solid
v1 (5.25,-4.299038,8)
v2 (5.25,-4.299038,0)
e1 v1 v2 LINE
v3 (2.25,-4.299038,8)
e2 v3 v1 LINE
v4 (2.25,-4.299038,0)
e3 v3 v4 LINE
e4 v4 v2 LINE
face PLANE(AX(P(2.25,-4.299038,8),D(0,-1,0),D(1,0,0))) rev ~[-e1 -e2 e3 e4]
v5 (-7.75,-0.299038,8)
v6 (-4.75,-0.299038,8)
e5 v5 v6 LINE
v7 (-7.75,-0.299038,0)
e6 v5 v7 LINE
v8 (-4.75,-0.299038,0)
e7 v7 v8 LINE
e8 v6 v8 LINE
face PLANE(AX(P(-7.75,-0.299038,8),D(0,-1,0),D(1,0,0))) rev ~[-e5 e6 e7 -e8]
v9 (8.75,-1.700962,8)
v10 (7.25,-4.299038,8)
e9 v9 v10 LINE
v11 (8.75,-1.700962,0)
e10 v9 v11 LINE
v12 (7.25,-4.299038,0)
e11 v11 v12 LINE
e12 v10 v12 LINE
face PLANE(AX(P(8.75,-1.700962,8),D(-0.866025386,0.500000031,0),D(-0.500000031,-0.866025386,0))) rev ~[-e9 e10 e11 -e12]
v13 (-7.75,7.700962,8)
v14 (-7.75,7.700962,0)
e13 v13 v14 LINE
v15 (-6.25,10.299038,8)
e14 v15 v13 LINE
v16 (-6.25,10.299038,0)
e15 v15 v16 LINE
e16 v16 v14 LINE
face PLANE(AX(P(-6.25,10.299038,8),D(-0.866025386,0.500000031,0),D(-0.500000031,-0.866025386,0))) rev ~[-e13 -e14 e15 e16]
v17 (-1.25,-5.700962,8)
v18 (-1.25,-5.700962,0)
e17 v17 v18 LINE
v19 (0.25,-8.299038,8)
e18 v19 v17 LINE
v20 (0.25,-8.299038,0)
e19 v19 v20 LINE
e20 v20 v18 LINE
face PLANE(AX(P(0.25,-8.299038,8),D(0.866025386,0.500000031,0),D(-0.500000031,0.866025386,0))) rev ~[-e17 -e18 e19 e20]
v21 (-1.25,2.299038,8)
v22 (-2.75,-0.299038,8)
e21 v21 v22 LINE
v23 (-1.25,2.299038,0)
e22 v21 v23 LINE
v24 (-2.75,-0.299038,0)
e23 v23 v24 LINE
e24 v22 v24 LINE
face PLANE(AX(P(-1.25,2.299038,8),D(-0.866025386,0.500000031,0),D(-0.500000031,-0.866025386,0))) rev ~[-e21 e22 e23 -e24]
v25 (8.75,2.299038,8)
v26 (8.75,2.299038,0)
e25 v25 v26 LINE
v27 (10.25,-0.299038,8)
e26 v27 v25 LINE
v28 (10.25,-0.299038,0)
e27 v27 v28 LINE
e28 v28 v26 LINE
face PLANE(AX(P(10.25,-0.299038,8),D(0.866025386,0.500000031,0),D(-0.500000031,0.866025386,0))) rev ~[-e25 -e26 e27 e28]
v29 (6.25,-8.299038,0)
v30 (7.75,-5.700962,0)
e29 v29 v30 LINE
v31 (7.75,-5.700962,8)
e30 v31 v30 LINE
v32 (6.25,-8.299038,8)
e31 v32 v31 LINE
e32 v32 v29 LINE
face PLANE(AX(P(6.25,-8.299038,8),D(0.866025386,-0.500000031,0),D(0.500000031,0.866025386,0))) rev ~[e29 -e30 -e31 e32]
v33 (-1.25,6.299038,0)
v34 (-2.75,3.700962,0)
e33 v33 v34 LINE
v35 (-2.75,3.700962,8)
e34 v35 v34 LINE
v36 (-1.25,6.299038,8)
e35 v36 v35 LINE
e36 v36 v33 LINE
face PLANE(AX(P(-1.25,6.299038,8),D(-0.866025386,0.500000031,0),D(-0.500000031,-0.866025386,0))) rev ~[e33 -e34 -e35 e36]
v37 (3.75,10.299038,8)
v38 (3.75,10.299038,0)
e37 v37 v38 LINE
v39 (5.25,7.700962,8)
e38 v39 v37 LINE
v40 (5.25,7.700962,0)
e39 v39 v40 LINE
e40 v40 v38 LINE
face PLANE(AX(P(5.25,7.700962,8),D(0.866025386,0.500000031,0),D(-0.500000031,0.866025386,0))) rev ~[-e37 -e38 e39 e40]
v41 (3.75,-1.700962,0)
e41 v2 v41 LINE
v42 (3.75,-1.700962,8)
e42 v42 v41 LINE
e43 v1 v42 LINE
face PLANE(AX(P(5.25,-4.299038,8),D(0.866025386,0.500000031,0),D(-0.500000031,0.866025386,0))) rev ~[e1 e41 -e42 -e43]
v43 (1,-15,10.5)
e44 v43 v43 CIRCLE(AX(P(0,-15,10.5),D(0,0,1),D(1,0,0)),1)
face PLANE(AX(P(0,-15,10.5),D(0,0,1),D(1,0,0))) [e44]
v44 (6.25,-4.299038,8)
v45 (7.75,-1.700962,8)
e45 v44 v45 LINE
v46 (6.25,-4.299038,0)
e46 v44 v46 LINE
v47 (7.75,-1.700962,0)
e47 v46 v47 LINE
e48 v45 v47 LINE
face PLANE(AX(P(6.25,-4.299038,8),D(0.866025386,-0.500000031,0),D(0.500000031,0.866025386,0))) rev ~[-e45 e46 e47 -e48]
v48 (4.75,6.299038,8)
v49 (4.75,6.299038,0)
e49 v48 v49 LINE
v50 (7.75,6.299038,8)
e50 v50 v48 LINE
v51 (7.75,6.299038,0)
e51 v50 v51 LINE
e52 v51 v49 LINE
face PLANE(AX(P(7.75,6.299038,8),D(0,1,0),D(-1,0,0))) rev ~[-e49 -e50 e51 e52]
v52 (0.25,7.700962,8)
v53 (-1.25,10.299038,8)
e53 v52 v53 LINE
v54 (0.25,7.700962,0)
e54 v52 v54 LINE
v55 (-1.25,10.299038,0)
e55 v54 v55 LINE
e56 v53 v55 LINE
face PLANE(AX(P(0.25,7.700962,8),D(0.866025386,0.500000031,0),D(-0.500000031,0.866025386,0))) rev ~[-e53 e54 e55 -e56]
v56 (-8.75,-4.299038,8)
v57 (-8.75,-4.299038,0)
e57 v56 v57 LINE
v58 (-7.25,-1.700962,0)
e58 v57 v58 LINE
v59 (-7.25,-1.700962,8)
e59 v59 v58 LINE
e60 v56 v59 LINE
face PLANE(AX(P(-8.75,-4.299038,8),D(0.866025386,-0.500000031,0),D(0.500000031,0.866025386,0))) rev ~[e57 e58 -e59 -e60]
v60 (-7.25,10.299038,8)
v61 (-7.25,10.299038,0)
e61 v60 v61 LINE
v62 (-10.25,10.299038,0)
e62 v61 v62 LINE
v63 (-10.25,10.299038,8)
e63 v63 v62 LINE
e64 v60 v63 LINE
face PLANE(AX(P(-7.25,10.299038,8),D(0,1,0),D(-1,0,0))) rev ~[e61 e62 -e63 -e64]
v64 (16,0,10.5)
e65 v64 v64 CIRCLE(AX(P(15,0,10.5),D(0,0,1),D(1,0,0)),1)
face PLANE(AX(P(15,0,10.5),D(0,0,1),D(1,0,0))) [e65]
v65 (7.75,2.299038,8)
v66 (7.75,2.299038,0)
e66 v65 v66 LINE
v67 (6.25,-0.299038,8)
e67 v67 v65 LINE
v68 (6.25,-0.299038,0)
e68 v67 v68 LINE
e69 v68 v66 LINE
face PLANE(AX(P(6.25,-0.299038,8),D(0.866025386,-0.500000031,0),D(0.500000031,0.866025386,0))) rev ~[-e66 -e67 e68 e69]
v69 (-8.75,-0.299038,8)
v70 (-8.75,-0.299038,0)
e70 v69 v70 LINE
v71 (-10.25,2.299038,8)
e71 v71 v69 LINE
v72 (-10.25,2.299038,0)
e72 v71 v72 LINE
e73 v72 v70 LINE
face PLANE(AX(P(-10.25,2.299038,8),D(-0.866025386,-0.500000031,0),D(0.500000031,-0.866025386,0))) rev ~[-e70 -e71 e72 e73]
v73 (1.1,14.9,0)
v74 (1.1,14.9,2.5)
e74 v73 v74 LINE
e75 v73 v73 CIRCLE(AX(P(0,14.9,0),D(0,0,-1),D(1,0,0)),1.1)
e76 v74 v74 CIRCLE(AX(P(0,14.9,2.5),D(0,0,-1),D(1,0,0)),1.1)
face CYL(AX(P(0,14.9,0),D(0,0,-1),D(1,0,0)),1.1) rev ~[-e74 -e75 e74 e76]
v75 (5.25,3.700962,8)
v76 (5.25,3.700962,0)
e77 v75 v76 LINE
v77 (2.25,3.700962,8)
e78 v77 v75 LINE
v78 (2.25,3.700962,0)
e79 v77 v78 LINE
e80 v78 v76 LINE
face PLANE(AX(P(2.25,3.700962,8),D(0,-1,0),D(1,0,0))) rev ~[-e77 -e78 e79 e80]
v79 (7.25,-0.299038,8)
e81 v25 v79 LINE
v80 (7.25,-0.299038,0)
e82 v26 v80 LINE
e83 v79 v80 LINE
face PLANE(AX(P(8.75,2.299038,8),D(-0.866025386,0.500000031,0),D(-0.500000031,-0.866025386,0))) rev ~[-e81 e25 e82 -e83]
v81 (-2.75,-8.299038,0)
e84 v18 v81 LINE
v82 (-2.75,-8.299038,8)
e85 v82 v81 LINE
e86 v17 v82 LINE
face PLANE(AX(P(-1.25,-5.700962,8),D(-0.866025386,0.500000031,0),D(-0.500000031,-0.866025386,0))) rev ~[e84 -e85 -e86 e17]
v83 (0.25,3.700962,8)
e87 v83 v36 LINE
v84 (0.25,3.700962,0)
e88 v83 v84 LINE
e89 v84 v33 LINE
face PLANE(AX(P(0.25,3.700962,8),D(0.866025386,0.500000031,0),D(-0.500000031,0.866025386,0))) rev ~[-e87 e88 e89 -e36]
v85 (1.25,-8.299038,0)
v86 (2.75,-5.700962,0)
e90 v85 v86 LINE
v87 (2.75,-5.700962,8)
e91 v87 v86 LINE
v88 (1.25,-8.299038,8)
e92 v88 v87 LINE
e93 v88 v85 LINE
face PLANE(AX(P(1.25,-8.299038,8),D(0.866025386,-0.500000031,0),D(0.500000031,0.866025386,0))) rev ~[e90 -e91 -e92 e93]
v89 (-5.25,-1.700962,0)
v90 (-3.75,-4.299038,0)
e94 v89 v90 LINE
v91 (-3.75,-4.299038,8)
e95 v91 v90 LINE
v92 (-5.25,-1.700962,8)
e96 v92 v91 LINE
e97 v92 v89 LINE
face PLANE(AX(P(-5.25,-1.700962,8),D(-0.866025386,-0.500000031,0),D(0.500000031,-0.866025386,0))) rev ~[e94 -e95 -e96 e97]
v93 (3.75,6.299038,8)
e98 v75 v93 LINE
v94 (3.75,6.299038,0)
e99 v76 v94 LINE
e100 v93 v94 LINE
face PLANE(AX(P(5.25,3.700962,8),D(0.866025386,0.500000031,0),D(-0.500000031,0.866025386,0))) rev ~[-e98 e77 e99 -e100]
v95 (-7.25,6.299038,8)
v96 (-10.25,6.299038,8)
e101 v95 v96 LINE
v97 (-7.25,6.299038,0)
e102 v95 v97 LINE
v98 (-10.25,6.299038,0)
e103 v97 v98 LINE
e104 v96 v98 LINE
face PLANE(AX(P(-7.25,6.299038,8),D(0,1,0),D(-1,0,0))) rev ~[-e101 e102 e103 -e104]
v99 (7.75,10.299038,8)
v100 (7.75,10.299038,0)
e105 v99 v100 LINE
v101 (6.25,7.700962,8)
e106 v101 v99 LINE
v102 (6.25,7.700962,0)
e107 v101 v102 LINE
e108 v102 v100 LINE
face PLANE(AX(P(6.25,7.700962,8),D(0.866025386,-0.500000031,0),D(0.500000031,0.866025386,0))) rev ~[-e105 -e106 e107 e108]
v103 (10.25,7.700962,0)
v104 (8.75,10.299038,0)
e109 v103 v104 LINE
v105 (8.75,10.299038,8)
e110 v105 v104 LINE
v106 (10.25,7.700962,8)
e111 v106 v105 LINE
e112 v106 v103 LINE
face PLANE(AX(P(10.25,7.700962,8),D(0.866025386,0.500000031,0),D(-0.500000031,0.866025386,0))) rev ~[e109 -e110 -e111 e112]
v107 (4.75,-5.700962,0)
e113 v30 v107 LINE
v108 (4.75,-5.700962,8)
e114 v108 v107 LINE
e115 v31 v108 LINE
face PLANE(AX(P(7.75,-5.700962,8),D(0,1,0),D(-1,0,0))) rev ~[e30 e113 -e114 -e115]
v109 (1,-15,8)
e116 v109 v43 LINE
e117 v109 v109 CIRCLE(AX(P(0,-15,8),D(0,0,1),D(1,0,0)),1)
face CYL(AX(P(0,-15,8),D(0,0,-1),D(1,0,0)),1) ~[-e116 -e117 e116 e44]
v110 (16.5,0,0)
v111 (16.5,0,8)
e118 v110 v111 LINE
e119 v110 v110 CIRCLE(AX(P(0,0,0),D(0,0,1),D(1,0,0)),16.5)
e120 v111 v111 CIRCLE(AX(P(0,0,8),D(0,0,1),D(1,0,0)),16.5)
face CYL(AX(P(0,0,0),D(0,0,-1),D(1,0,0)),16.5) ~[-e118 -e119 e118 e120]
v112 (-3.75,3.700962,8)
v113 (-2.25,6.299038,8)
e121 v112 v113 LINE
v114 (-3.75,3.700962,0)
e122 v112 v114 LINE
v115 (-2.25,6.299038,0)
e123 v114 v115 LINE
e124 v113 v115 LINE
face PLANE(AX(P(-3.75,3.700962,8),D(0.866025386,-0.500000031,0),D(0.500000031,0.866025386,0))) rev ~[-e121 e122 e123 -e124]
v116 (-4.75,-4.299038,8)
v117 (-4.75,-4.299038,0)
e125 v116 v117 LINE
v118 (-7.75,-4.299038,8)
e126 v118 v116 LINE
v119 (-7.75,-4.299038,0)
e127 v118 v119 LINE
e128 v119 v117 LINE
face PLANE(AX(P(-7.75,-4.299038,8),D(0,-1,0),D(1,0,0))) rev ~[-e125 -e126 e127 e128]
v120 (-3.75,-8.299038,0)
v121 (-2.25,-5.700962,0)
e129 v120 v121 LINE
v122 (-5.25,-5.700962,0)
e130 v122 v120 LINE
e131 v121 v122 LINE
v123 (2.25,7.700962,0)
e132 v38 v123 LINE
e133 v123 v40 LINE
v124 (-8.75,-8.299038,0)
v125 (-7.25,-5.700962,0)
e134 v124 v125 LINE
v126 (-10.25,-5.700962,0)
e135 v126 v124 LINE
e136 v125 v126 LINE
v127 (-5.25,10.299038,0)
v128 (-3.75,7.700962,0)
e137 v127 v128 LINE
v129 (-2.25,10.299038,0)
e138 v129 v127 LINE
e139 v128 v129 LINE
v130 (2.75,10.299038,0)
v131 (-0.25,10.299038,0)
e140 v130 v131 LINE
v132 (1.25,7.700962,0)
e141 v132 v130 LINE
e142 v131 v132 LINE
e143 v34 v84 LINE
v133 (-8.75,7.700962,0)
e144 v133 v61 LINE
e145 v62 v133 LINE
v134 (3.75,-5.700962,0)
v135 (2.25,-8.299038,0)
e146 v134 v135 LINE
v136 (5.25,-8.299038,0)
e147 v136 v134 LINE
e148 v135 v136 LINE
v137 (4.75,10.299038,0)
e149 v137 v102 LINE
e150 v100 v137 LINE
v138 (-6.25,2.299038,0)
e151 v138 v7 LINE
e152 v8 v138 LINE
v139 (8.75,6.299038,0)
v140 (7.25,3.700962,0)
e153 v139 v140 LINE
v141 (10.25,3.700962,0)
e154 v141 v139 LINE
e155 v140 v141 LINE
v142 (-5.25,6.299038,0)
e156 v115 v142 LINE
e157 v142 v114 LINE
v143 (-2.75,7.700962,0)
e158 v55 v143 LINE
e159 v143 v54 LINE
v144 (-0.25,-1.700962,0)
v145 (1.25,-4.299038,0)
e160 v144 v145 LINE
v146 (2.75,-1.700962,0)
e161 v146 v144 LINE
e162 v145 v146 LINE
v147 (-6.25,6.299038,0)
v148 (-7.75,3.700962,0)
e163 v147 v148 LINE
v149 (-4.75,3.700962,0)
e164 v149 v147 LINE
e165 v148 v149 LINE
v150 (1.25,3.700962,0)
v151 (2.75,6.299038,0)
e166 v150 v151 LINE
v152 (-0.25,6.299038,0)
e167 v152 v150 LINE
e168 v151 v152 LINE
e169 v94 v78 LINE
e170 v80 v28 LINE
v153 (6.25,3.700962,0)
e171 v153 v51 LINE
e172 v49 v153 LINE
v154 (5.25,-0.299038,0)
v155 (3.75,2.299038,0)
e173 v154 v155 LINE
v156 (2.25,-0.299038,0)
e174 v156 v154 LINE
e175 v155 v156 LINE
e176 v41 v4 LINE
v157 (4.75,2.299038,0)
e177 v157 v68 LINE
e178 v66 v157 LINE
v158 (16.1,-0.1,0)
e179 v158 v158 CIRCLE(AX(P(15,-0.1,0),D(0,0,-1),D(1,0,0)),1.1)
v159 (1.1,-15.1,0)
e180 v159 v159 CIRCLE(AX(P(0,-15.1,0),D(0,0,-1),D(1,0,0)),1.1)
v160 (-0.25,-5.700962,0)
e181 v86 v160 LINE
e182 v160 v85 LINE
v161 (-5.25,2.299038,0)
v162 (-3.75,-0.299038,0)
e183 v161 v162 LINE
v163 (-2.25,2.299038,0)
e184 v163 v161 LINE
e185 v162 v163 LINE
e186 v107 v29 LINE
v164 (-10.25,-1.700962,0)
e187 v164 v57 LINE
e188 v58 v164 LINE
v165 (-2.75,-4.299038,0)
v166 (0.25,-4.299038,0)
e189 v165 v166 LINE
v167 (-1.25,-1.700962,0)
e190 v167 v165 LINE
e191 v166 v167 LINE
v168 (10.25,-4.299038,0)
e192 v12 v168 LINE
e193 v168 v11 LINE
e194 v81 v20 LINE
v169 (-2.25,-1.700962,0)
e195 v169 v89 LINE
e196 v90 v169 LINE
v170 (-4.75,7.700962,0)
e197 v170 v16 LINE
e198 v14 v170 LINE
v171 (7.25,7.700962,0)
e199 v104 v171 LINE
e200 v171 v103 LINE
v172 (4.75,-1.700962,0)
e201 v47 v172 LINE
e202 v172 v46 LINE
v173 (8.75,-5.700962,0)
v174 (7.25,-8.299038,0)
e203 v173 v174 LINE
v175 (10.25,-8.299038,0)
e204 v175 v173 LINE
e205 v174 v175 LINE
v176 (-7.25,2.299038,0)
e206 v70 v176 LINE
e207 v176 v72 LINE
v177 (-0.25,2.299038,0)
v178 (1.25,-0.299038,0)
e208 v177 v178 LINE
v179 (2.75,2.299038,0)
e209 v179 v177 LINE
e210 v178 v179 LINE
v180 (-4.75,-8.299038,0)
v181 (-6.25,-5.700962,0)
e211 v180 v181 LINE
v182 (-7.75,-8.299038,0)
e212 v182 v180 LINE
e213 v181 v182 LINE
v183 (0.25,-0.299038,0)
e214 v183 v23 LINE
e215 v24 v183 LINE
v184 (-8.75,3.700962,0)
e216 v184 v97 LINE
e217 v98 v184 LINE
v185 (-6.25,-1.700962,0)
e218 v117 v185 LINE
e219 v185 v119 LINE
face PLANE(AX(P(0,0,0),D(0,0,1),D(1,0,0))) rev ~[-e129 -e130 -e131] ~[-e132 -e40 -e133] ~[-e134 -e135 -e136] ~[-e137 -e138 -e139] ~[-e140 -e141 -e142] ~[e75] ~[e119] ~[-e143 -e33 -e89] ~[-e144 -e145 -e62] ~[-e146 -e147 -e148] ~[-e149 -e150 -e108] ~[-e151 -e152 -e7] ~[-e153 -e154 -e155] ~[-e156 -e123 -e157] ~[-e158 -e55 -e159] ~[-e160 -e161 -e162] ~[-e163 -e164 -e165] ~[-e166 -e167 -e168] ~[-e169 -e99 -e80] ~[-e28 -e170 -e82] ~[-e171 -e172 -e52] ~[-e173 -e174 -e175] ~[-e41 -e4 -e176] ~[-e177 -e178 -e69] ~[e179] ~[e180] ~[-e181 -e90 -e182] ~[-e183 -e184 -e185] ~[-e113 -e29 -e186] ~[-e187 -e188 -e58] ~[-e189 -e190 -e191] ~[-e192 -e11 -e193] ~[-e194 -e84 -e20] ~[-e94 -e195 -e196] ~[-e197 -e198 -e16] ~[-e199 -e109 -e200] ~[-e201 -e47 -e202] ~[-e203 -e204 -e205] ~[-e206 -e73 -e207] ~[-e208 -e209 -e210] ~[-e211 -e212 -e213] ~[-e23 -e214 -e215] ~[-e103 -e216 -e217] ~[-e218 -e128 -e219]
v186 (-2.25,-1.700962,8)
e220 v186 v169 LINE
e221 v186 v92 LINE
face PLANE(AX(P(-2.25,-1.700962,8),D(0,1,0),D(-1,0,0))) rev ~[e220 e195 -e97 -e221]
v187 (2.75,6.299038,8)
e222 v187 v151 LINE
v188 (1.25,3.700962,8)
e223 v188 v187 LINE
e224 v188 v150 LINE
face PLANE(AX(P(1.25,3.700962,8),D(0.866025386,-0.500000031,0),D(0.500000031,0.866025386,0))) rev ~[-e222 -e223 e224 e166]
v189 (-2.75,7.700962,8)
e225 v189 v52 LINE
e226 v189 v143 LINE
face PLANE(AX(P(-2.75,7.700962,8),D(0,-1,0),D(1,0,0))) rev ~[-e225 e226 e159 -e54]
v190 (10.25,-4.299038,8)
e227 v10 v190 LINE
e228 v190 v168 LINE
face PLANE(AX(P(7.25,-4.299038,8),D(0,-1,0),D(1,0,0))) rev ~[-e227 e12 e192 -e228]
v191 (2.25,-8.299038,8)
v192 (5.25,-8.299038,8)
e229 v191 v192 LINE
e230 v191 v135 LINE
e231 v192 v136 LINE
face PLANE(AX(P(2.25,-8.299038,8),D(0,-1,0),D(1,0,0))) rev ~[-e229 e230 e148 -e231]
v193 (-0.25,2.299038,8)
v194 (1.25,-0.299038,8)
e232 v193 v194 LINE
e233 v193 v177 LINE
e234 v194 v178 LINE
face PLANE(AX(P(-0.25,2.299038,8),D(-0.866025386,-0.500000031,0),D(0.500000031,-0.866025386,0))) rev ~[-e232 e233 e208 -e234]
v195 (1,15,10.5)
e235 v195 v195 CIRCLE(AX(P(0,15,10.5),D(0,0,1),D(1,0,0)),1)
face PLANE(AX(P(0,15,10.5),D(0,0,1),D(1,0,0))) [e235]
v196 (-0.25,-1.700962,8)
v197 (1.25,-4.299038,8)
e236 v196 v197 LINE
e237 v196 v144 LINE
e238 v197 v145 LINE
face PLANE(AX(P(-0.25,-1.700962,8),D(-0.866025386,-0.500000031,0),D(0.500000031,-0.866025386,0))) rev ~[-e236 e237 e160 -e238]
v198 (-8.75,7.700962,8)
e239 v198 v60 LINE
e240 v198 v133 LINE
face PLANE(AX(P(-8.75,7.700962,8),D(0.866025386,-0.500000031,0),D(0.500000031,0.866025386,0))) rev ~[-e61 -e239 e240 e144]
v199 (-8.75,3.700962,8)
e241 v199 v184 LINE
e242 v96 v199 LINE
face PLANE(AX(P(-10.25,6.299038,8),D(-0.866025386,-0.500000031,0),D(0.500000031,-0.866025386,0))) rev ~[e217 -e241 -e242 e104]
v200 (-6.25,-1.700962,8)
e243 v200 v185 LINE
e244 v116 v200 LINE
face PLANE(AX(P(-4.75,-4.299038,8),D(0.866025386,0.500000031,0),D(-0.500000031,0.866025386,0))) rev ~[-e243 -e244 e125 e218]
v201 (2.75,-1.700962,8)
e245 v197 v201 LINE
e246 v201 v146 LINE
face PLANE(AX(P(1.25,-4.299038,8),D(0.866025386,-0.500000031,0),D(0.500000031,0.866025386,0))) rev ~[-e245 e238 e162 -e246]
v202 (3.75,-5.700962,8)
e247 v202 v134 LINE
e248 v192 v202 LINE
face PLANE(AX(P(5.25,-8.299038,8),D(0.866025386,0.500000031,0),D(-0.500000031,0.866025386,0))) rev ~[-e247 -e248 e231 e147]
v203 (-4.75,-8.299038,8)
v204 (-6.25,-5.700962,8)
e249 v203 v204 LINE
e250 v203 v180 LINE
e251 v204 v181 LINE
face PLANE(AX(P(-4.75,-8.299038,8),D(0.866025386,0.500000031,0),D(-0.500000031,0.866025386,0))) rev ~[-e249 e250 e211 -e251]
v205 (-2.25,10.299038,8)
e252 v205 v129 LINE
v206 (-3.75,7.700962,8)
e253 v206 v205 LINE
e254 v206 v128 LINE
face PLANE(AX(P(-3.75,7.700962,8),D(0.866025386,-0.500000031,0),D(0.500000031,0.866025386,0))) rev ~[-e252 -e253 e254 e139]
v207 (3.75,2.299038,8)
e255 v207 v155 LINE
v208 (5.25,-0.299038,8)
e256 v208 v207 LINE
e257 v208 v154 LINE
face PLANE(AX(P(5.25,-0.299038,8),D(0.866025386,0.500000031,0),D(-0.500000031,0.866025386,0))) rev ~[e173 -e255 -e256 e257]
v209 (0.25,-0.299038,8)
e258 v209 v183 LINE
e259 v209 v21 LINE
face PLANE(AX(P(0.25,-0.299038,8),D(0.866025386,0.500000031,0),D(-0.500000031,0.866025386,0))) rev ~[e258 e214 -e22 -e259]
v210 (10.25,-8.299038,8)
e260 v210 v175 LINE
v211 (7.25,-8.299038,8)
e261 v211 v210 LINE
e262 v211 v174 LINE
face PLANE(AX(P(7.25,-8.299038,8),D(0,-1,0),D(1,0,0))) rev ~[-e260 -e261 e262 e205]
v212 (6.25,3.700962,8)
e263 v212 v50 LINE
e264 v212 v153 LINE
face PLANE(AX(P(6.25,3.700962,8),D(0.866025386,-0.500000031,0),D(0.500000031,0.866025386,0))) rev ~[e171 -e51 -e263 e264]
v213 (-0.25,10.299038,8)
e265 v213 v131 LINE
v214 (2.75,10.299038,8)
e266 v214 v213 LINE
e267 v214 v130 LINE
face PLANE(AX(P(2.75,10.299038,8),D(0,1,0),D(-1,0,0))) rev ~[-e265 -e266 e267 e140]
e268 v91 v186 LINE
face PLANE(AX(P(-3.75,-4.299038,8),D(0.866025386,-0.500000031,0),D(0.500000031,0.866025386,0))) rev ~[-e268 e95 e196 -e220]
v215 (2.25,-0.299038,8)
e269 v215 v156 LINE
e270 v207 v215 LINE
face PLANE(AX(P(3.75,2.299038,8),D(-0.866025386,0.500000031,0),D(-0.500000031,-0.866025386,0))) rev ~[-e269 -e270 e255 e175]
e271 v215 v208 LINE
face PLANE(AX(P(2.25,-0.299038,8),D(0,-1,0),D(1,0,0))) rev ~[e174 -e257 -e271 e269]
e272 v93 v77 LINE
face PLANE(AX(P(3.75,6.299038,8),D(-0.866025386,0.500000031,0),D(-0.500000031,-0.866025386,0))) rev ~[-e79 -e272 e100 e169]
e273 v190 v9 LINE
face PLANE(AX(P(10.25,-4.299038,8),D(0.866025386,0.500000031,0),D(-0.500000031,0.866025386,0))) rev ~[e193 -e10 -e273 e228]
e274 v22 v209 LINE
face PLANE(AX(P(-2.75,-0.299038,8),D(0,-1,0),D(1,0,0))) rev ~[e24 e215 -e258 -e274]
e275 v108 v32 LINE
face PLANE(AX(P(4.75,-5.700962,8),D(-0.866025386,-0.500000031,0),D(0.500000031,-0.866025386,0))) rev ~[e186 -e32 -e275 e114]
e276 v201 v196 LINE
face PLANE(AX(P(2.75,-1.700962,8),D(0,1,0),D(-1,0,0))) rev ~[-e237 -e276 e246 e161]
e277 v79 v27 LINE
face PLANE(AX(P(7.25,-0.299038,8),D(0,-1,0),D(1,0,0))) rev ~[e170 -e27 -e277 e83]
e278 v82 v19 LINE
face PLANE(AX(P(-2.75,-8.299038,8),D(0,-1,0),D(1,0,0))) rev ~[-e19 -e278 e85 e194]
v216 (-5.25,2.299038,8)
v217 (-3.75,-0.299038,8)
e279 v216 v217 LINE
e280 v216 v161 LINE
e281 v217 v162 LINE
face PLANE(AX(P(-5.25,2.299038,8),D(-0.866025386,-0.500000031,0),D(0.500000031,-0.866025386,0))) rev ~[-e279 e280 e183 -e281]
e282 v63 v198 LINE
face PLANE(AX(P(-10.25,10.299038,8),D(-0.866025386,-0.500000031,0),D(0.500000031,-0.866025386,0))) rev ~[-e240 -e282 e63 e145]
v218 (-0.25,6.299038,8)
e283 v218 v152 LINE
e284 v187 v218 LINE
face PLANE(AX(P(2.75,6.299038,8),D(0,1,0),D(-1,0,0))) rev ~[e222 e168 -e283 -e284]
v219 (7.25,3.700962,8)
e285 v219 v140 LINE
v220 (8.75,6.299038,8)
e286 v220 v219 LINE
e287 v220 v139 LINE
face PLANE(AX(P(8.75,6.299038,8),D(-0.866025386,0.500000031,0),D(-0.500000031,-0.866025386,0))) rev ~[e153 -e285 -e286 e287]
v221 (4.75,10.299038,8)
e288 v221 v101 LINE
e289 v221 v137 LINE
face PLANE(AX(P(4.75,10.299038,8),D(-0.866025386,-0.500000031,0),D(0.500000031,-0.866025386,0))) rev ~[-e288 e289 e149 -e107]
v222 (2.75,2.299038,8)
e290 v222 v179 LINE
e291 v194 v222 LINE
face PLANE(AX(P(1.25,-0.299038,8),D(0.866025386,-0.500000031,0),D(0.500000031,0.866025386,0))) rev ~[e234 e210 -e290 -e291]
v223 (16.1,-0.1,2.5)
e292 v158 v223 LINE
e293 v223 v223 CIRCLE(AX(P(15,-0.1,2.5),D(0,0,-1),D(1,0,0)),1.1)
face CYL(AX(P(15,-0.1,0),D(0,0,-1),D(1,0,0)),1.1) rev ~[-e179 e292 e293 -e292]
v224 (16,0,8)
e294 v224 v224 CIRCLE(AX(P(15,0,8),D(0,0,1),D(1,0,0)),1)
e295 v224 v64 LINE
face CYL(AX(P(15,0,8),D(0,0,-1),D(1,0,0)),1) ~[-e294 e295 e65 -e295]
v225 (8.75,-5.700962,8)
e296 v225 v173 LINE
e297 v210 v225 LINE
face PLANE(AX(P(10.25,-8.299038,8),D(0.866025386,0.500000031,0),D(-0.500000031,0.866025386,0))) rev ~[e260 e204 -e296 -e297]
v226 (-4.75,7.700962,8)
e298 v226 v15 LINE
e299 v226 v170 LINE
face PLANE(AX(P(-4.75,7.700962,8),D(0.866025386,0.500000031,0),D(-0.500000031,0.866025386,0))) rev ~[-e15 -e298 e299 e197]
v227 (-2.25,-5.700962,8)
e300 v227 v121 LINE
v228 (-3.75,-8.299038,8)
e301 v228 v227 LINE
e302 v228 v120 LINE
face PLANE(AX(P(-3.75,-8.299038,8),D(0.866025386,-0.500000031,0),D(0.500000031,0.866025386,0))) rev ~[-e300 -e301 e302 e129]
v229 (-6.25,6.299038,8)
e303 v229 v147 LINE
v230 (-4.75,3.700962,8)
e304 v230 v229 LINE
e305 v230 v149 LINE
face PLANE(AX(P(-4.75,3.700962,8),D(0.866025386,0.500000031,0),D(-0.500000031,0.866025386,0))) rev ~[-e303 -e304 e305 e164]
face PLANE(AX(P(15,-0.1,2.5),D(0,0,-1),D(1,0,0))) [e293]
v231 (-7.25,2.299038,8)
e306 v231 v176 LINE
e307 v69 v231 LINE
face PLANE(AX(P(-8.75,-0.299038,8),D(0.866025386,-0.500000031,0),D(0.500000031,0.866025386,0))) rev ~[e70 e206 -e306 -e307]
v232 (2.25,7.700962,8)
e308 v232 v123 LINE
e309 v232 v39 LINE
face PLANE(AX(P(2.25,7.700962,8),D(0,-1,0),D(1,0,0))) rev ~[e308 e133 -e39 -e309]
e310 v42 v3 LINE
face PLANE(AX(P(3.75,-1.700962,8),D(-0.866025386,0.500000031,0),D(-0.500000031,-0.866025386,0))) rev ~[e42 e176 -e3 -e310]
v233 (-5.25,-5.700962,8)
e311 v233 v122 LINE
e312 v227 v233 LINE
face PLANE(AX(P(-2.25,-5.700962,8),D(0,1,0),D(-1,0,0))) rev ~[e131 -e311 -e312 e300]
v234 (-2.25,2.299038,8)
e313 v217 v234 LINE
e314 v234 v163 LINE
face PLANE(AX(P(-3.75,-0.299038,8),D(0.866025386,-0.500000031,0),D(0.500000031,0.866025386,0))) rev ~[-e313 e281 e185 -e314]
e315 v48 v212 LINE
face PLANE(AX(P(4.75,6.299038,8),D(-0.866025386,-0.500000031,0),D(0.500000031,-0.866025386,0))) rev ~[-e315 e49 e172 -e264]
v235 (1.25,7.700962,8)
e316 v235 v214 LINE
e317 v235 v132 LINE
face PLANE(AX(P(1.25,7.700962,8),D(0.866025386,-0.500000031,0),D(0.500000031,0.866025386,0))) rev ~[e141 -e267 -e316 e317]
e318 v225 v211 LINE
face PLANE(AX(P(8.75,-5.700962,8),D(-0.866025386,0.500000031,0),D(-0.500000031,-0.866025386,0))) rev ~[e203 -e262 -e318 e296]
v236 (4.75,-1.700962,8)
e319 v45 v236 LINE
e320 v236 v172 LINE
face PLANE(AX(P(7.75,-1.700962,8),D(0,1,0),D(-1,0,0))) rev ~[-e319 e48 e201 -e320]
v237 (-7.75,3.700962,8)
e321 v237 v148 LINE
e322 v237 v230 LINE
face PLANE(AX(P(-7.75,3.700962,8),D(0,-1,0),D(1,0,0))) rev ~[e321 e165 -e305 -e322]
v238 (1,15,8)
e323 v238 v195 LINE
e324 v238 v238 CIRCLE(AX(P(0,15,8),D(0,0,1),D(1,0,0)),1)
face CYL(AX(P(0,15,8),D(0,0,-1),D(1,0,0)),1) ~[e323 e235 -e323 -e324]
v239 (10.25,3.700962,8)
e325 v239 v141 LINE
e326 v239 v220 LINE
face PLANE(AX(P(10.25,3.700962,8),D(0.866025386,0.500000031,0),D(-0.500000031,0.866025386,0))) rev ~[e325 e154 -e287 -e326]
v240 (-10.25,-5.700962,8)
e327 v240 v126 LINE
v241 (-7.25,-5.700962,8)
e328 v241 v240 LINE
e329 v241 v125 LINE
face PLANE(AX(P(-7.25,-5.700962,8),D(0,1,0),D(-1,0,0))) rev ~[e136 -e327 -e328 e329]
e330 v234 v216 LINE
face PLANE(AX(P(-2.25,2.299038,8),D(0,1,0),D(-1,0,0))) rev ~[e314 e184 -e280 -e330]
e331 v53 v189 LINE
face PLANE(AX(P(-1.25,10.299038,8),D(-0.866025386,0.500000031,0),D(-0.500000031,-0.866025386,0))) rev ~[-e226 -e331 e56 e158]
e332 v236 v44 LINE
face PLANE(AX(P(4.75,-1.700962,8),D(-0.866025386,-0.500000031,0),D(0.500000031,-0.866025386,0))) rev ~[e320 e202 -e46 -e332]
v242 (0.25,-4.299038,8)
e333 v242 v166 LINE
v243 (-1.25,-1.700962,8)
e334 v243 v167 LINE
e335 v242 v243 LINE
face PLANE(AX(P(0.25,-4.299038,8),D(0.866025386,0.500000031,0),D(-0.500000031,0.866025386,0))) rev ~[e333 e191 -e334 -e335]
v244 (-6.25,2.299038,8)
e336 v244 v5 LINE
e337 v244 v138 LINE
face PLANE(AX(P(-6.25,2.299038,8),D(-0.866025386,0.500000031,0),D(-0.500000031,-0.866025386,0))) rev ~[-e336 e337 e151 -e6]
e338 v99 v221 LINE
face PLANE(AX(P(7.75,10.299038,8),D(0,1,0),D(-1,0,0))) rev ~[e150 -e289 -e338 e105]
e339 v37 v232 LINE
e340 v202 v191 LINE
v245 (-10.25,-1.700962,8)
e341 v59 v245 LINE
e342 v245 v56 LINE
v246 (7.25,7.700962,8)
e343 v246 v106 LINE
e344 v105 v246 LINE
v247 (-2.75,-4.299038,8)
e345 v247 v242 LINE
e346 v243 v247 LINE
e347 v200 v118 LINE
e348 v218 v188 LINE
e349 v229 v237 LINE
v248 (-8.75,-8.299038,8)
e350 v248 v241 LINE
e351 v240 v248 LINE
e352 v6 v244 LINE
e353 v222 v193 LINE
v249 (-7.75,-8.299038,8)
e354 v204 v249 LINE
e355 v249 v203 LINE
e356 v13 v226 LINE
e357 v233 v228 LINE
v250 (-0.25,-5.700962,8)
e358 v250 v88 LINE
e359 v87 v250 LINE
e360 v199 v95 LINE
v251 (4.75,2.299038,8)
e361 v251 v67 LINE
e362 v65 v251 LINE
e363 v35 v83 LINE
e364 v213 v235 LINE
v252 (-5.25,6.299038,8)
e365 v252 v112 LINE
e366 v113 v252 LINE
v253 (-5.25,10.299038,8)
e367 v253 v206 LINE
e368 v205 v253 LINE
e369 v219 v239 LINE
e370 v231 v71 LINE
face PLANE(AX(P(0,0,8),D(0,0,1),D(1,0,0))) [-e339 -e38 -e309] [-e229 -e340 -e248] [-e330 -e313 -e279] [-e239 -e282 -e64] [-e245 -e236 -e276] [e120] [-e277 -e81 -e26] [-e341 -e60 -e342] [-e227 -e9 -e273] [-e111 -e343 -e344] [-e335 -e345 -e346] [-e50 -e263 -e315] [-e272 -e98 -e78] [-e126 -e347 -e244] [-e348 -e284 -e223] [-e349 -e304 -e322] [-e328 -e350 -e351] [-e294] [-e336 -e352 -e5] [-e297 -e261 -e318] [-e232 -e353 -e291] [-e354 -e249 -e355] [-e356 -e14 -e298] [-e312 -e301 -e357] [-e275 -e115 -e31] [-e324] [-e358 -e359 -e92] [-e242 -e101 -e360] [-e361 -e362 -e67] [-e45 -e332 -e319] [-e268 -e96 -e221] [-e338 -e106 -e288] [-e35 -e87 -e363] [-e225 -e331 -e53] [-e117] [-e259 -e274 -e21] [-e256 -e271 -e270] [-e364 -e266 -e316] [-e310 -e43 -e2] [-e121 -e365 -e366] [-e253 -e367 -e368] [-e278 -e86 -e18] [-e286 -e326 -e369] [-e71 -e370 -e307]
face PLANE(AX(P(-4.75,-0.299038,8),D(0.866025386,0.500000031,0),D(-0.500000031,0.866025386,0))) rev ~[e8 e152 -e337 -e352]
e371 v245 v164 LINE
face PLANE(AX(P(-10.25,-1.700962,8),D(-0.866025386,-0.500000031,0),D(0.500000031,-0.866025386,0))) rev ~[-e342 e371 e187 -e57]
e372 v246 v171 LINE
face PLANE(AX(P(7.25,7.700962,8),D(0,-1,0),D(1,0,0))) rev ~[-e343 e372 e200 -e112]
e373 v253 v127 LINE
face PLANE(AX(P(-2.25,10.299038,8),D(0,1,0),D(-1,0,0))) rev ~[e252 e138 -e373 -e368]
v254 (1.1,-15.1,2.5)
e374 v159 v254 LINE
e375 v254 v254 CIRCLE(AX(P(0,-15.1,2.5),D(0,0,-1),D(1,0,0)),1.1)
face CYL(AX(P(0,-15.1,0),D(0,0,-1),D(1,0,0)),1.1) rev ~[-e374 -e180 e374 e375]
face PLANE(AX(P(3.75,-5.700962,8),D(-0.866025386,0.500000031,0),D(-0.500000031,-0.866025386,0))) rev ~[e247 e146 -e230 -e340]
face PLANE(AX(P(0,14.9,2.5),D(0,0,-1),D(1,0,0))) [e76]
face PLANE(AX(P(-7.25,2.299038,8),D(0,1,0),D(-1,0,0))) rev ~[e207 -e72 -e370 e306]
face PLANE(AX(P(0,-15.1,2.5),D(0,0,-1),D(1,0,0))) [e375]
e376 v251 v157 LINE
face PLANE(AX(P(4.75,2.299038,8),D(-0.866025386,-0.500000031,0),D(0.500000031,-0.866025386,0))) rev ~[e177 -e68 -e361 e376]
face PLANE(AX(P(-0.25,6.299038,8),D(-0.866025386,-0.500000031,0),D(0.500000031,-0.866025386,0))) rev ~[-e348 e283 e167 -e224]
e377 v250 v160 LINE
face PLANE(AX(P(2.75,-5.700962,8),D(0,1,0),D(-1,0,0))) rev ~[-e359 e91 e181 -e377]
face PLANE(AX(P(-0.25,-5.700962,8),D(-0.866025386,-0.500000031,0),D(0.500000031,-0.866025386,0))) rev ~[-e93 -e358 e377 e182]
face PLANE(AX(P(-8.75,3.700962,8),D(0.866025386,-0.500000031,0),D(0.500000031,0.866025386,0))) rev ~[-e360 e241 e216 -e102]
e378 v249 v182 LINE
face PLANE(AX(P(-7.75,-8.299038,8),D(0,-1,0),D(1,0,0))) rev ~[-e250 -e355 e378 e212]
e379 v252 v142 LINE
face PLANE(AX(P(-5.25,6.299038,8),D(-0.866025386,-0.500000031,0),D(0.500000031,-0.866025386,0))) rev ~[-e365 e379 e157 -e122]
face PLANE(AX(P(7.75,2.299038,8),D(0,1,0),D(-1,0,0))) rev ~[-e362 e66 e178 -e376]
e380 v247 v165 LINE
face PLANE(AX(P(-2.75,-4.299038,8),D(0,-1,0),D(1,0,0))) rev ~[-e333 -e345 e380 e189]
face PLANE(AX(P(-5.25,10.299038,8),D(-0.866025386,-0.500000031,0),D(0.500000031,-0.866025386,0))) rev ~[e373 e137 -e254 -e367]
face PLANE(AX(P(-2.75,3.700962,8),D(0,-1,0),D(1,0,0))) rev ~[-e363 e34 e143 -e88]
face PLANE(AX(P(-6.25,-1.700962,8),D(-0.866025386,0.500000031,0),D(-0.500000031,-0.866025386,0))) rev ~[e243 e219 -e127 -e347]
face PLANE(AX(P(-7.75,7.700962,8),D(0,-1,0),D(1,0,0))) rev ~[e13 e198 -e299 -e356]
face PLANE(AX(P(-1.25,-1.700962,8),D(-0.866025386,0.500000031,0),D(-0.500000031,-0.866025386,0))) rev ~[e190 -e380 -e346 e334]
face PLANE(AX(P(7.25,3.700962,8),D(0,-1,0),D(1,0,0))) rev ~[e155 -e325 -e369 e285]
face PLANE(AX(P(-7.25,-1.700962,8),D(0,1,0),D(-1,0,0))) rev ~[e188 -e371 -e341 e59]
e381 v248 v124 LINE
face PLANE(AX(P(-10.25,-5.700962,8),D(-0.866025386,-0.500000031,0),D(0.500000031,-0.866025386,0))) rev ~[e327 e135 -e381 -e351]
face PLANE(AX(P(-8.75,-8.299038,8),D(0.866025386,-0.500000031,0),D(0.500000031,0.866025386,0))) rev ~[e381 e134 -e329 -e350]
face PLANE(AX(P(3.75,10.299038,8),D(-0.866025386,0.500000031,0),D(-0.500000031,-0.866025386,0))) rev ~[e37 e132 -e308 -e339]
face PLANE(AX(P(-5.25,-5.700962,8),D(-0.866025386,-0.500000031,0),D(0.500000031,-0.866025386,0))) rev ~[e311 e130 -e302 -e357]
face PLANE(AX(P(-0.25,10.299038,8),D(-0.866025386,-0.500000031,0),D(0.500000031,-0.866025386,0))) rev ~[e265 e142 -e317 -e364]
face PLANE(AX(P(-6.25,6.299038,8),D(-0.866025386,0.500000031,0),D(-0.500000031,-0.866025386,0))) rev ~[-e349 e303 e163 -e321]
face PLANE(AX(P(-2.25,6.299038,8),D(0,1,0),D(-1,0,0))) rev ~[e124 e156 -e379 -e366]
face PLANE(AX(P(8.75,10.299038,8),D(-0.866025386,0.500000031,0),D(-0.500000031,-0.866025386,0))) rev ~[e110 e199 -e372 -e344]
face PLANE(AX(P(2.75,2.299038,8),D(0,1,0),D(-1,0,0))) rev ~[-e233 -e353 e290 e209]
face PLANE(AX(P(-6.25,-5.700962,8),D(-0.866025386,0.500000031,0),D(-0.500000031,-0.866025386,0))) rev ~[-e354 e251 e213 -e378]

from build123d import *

# Parameters (mm, degrees)
F0_R     = 16.5
F1_DEPTH = 8
F2_R     = 1.1
F3_DEPTH = 2.5
F4_R     = 1
F5_DEPTH = 2.5
F7_DEPTH = 25


with BuildPart() as f1:
    # F0 (on Top) → F1 (new body)
    with BuildSketch(Plane.XY):
        Circle(F0_R)
    extrude(amount=F1_DEPTH)

    # F2 (on face) → F3 (cut)
    with BuildSketch(Plane(origin=(0, 0, 0), x_dir=(1, 0, 0), z_dir=(0, 0, -1))):
        with Locations((0, 15.1)):
            Circle(F2_R)
        with Locations((15, 0.1)):
            Circle(F2_R)
        with Locations((0, -14.9)):
            Circle(F2_R)
    extrude(amount=-F3_DEPTH, mode=Mode.SUBTRACT)

    # F4 (on face) → F5 (join)
    with BuildSketch(Plane.XY.offset(8)):
        with Locations((0, 15)):
            Circle(F4_R)
        with Locations((15, 0)):
            Circle(F4_R)
        with Locations((0, -15)):
            Circle(F4_R)
    extrude(amount=F5_DEPTH)

    # F6 (on face) → F7 (cut)
    with BuildSketch(Plane.XY.offset(8)):
        Polygon((-7.25, -5.700962), (-10.25, -5.700962), (-8.75, -8.299038), align=None)
        Polygon((-6.25, -5.700962), (-7.75, -8.299038), (-4.75, -8.299038), align=None)
        Polygon((-7.25, -1.700962), (-10.25, -1.700962), (-8.75, -4.299038), align=None)
        Polygon((-6.25, -1.700962), (-7.75, -4.299038), (-4.75, -4.299038), align=None)
        Polygon((-7.25, 2.299038), (-10.25, 2.299038), (-8.75, -0.299038), align=None)
        Polygon((-6.25, 2.299038), (-7.75, -0.299038), (-4.75, -0.299038), align=None)
        Polygon((-7.25, 6.299038), (-10.25, 6.299038), (-8.75, 3.700962), align=None)
        Polygon((-6.25, 6.299038), (-7.75, 3.700962), (-4.75, 3.700962), align=None)
        Polygon((-7.25, 10.299038), (-10.25, 10.299038), (-8.75, 7.700962), align=None)
        Polygon((-6.25, 10.299038), (-7.75, 7.700962), (-4.75, 7.700962), align=None)
        Polygon((-2.25, -5.700962), (-5.25, -5.700962), (-3.75, -8.299038), align=None)
        Polygon((-1.25, -5.700962), (-2.75, -8.299038), (0.25, -8.299038), align=None)
        Polygon((-2.25, -1.700962), (-5.25, -1.700962), (-3.75, -4.299038), align=None)
        Polygon((-1.25, -1.700962), (-2.75, -4.299038), (0.25, -4.299038), align=None)
        Polygon((-2.25, 2.299038), (-5.25, 2.299038), (-3.75, -0.299038), align=None)
        Polygon((-1.25, 2.299038), (-2.75, -0.299038), (0.25, -0.299038), align=None)
        Polygon((-2.25, 6.299038), (-5.25, 6.299038), (-3.75, 3.700962), align=None)
        Polygon((-1.25, 6.299038), (-2.75, 3.700962), (0.25, 3.700962), align=None)
        Polygon((-2.25, 10.299038), (-5.25, 10.299038), (-3.75, 7.700962), align=None)
        Polygon((-1.25, 10.299038), (-2.75, 7.700962), (0.25, 7.700962), align=None)
        Polygon((2.75, -5.700962), (-0.25, -5.700962), (1.25, -8.299038), align=None)
        Polygon((3.75, -5.700962), (2.25, -8.299038), (5.25, -8.299038), align=None)
        Polygon((2.75, -1.700962), (-0.25, -1.700962), (1.25, -4.299038), align=None)
        Polygon((3.75, -1.700962), (2.25, -4.299038), (5.25, -4.299038), align=None)
        Polygon((2.75, 2.299038), (-0.25, 2.299038), (1.25, -0.299038), align=None)
        Polygon((3.75, 2.299038), (2.25, -0.299038), (5.25, -0.299038), align=None)
        Polygon((2.75, 6.299038), (-0.25, 6.299038), (1.25, 3.700962), align=None)
        Polygon((3.75, 6.299038), (2.25, 3.700962), (5.25, 3.700962), align=None)
        Polygon((2.75, 10.299038), (-0.25, 10.299038), (1.25, 7.700962), align=None)
        Polygon((3.75, 10.299038), (2.25, 7.700962), (5.25, 7.700962), align=None)
        Polygon((7.75, -5.700962), (4.75, -5.700962), (6.25, -8.299038), align=None)
        Polygon((8.75, -5.700962), (7.25, -8.299038), (10.25, -8.299038), align=None)
        Polygon((7.75, -1.700962), (4.75, -1.700962), (6.25, -4.299038), align=None)
        Polygon((8.75, -1.700962), (7.25, -4.299038), (10.25, -4.299038), align=None)
        Polygon((7.75, 2.299038), (4.75, 2.299038), (6.25, -0.299038), align=None)
        Polygon((8.75, 2.299038), (7.25, -0.299038), (10.25, -0.299038), align=None)
        Polygon((7.75, 6.299038), (4.75, 6.299038), (6.25, 3.700962), align=None)
        Polygon((8.75, 6.299038), (7.25, 3.700962), (10.25, 3.700962), align=None)
        Polygon((7.75, 10.299038), (4.75, 10.299038), (6.25, 7.700962), align=None)
        Polygon((8.75, 10.299038), (7.25, 7.700962), (10.25, 7.700962), align=None)
    extrude(amount=-F7_DEPTH, mode=Mode.SUBTRACT)


solid = f1.part
